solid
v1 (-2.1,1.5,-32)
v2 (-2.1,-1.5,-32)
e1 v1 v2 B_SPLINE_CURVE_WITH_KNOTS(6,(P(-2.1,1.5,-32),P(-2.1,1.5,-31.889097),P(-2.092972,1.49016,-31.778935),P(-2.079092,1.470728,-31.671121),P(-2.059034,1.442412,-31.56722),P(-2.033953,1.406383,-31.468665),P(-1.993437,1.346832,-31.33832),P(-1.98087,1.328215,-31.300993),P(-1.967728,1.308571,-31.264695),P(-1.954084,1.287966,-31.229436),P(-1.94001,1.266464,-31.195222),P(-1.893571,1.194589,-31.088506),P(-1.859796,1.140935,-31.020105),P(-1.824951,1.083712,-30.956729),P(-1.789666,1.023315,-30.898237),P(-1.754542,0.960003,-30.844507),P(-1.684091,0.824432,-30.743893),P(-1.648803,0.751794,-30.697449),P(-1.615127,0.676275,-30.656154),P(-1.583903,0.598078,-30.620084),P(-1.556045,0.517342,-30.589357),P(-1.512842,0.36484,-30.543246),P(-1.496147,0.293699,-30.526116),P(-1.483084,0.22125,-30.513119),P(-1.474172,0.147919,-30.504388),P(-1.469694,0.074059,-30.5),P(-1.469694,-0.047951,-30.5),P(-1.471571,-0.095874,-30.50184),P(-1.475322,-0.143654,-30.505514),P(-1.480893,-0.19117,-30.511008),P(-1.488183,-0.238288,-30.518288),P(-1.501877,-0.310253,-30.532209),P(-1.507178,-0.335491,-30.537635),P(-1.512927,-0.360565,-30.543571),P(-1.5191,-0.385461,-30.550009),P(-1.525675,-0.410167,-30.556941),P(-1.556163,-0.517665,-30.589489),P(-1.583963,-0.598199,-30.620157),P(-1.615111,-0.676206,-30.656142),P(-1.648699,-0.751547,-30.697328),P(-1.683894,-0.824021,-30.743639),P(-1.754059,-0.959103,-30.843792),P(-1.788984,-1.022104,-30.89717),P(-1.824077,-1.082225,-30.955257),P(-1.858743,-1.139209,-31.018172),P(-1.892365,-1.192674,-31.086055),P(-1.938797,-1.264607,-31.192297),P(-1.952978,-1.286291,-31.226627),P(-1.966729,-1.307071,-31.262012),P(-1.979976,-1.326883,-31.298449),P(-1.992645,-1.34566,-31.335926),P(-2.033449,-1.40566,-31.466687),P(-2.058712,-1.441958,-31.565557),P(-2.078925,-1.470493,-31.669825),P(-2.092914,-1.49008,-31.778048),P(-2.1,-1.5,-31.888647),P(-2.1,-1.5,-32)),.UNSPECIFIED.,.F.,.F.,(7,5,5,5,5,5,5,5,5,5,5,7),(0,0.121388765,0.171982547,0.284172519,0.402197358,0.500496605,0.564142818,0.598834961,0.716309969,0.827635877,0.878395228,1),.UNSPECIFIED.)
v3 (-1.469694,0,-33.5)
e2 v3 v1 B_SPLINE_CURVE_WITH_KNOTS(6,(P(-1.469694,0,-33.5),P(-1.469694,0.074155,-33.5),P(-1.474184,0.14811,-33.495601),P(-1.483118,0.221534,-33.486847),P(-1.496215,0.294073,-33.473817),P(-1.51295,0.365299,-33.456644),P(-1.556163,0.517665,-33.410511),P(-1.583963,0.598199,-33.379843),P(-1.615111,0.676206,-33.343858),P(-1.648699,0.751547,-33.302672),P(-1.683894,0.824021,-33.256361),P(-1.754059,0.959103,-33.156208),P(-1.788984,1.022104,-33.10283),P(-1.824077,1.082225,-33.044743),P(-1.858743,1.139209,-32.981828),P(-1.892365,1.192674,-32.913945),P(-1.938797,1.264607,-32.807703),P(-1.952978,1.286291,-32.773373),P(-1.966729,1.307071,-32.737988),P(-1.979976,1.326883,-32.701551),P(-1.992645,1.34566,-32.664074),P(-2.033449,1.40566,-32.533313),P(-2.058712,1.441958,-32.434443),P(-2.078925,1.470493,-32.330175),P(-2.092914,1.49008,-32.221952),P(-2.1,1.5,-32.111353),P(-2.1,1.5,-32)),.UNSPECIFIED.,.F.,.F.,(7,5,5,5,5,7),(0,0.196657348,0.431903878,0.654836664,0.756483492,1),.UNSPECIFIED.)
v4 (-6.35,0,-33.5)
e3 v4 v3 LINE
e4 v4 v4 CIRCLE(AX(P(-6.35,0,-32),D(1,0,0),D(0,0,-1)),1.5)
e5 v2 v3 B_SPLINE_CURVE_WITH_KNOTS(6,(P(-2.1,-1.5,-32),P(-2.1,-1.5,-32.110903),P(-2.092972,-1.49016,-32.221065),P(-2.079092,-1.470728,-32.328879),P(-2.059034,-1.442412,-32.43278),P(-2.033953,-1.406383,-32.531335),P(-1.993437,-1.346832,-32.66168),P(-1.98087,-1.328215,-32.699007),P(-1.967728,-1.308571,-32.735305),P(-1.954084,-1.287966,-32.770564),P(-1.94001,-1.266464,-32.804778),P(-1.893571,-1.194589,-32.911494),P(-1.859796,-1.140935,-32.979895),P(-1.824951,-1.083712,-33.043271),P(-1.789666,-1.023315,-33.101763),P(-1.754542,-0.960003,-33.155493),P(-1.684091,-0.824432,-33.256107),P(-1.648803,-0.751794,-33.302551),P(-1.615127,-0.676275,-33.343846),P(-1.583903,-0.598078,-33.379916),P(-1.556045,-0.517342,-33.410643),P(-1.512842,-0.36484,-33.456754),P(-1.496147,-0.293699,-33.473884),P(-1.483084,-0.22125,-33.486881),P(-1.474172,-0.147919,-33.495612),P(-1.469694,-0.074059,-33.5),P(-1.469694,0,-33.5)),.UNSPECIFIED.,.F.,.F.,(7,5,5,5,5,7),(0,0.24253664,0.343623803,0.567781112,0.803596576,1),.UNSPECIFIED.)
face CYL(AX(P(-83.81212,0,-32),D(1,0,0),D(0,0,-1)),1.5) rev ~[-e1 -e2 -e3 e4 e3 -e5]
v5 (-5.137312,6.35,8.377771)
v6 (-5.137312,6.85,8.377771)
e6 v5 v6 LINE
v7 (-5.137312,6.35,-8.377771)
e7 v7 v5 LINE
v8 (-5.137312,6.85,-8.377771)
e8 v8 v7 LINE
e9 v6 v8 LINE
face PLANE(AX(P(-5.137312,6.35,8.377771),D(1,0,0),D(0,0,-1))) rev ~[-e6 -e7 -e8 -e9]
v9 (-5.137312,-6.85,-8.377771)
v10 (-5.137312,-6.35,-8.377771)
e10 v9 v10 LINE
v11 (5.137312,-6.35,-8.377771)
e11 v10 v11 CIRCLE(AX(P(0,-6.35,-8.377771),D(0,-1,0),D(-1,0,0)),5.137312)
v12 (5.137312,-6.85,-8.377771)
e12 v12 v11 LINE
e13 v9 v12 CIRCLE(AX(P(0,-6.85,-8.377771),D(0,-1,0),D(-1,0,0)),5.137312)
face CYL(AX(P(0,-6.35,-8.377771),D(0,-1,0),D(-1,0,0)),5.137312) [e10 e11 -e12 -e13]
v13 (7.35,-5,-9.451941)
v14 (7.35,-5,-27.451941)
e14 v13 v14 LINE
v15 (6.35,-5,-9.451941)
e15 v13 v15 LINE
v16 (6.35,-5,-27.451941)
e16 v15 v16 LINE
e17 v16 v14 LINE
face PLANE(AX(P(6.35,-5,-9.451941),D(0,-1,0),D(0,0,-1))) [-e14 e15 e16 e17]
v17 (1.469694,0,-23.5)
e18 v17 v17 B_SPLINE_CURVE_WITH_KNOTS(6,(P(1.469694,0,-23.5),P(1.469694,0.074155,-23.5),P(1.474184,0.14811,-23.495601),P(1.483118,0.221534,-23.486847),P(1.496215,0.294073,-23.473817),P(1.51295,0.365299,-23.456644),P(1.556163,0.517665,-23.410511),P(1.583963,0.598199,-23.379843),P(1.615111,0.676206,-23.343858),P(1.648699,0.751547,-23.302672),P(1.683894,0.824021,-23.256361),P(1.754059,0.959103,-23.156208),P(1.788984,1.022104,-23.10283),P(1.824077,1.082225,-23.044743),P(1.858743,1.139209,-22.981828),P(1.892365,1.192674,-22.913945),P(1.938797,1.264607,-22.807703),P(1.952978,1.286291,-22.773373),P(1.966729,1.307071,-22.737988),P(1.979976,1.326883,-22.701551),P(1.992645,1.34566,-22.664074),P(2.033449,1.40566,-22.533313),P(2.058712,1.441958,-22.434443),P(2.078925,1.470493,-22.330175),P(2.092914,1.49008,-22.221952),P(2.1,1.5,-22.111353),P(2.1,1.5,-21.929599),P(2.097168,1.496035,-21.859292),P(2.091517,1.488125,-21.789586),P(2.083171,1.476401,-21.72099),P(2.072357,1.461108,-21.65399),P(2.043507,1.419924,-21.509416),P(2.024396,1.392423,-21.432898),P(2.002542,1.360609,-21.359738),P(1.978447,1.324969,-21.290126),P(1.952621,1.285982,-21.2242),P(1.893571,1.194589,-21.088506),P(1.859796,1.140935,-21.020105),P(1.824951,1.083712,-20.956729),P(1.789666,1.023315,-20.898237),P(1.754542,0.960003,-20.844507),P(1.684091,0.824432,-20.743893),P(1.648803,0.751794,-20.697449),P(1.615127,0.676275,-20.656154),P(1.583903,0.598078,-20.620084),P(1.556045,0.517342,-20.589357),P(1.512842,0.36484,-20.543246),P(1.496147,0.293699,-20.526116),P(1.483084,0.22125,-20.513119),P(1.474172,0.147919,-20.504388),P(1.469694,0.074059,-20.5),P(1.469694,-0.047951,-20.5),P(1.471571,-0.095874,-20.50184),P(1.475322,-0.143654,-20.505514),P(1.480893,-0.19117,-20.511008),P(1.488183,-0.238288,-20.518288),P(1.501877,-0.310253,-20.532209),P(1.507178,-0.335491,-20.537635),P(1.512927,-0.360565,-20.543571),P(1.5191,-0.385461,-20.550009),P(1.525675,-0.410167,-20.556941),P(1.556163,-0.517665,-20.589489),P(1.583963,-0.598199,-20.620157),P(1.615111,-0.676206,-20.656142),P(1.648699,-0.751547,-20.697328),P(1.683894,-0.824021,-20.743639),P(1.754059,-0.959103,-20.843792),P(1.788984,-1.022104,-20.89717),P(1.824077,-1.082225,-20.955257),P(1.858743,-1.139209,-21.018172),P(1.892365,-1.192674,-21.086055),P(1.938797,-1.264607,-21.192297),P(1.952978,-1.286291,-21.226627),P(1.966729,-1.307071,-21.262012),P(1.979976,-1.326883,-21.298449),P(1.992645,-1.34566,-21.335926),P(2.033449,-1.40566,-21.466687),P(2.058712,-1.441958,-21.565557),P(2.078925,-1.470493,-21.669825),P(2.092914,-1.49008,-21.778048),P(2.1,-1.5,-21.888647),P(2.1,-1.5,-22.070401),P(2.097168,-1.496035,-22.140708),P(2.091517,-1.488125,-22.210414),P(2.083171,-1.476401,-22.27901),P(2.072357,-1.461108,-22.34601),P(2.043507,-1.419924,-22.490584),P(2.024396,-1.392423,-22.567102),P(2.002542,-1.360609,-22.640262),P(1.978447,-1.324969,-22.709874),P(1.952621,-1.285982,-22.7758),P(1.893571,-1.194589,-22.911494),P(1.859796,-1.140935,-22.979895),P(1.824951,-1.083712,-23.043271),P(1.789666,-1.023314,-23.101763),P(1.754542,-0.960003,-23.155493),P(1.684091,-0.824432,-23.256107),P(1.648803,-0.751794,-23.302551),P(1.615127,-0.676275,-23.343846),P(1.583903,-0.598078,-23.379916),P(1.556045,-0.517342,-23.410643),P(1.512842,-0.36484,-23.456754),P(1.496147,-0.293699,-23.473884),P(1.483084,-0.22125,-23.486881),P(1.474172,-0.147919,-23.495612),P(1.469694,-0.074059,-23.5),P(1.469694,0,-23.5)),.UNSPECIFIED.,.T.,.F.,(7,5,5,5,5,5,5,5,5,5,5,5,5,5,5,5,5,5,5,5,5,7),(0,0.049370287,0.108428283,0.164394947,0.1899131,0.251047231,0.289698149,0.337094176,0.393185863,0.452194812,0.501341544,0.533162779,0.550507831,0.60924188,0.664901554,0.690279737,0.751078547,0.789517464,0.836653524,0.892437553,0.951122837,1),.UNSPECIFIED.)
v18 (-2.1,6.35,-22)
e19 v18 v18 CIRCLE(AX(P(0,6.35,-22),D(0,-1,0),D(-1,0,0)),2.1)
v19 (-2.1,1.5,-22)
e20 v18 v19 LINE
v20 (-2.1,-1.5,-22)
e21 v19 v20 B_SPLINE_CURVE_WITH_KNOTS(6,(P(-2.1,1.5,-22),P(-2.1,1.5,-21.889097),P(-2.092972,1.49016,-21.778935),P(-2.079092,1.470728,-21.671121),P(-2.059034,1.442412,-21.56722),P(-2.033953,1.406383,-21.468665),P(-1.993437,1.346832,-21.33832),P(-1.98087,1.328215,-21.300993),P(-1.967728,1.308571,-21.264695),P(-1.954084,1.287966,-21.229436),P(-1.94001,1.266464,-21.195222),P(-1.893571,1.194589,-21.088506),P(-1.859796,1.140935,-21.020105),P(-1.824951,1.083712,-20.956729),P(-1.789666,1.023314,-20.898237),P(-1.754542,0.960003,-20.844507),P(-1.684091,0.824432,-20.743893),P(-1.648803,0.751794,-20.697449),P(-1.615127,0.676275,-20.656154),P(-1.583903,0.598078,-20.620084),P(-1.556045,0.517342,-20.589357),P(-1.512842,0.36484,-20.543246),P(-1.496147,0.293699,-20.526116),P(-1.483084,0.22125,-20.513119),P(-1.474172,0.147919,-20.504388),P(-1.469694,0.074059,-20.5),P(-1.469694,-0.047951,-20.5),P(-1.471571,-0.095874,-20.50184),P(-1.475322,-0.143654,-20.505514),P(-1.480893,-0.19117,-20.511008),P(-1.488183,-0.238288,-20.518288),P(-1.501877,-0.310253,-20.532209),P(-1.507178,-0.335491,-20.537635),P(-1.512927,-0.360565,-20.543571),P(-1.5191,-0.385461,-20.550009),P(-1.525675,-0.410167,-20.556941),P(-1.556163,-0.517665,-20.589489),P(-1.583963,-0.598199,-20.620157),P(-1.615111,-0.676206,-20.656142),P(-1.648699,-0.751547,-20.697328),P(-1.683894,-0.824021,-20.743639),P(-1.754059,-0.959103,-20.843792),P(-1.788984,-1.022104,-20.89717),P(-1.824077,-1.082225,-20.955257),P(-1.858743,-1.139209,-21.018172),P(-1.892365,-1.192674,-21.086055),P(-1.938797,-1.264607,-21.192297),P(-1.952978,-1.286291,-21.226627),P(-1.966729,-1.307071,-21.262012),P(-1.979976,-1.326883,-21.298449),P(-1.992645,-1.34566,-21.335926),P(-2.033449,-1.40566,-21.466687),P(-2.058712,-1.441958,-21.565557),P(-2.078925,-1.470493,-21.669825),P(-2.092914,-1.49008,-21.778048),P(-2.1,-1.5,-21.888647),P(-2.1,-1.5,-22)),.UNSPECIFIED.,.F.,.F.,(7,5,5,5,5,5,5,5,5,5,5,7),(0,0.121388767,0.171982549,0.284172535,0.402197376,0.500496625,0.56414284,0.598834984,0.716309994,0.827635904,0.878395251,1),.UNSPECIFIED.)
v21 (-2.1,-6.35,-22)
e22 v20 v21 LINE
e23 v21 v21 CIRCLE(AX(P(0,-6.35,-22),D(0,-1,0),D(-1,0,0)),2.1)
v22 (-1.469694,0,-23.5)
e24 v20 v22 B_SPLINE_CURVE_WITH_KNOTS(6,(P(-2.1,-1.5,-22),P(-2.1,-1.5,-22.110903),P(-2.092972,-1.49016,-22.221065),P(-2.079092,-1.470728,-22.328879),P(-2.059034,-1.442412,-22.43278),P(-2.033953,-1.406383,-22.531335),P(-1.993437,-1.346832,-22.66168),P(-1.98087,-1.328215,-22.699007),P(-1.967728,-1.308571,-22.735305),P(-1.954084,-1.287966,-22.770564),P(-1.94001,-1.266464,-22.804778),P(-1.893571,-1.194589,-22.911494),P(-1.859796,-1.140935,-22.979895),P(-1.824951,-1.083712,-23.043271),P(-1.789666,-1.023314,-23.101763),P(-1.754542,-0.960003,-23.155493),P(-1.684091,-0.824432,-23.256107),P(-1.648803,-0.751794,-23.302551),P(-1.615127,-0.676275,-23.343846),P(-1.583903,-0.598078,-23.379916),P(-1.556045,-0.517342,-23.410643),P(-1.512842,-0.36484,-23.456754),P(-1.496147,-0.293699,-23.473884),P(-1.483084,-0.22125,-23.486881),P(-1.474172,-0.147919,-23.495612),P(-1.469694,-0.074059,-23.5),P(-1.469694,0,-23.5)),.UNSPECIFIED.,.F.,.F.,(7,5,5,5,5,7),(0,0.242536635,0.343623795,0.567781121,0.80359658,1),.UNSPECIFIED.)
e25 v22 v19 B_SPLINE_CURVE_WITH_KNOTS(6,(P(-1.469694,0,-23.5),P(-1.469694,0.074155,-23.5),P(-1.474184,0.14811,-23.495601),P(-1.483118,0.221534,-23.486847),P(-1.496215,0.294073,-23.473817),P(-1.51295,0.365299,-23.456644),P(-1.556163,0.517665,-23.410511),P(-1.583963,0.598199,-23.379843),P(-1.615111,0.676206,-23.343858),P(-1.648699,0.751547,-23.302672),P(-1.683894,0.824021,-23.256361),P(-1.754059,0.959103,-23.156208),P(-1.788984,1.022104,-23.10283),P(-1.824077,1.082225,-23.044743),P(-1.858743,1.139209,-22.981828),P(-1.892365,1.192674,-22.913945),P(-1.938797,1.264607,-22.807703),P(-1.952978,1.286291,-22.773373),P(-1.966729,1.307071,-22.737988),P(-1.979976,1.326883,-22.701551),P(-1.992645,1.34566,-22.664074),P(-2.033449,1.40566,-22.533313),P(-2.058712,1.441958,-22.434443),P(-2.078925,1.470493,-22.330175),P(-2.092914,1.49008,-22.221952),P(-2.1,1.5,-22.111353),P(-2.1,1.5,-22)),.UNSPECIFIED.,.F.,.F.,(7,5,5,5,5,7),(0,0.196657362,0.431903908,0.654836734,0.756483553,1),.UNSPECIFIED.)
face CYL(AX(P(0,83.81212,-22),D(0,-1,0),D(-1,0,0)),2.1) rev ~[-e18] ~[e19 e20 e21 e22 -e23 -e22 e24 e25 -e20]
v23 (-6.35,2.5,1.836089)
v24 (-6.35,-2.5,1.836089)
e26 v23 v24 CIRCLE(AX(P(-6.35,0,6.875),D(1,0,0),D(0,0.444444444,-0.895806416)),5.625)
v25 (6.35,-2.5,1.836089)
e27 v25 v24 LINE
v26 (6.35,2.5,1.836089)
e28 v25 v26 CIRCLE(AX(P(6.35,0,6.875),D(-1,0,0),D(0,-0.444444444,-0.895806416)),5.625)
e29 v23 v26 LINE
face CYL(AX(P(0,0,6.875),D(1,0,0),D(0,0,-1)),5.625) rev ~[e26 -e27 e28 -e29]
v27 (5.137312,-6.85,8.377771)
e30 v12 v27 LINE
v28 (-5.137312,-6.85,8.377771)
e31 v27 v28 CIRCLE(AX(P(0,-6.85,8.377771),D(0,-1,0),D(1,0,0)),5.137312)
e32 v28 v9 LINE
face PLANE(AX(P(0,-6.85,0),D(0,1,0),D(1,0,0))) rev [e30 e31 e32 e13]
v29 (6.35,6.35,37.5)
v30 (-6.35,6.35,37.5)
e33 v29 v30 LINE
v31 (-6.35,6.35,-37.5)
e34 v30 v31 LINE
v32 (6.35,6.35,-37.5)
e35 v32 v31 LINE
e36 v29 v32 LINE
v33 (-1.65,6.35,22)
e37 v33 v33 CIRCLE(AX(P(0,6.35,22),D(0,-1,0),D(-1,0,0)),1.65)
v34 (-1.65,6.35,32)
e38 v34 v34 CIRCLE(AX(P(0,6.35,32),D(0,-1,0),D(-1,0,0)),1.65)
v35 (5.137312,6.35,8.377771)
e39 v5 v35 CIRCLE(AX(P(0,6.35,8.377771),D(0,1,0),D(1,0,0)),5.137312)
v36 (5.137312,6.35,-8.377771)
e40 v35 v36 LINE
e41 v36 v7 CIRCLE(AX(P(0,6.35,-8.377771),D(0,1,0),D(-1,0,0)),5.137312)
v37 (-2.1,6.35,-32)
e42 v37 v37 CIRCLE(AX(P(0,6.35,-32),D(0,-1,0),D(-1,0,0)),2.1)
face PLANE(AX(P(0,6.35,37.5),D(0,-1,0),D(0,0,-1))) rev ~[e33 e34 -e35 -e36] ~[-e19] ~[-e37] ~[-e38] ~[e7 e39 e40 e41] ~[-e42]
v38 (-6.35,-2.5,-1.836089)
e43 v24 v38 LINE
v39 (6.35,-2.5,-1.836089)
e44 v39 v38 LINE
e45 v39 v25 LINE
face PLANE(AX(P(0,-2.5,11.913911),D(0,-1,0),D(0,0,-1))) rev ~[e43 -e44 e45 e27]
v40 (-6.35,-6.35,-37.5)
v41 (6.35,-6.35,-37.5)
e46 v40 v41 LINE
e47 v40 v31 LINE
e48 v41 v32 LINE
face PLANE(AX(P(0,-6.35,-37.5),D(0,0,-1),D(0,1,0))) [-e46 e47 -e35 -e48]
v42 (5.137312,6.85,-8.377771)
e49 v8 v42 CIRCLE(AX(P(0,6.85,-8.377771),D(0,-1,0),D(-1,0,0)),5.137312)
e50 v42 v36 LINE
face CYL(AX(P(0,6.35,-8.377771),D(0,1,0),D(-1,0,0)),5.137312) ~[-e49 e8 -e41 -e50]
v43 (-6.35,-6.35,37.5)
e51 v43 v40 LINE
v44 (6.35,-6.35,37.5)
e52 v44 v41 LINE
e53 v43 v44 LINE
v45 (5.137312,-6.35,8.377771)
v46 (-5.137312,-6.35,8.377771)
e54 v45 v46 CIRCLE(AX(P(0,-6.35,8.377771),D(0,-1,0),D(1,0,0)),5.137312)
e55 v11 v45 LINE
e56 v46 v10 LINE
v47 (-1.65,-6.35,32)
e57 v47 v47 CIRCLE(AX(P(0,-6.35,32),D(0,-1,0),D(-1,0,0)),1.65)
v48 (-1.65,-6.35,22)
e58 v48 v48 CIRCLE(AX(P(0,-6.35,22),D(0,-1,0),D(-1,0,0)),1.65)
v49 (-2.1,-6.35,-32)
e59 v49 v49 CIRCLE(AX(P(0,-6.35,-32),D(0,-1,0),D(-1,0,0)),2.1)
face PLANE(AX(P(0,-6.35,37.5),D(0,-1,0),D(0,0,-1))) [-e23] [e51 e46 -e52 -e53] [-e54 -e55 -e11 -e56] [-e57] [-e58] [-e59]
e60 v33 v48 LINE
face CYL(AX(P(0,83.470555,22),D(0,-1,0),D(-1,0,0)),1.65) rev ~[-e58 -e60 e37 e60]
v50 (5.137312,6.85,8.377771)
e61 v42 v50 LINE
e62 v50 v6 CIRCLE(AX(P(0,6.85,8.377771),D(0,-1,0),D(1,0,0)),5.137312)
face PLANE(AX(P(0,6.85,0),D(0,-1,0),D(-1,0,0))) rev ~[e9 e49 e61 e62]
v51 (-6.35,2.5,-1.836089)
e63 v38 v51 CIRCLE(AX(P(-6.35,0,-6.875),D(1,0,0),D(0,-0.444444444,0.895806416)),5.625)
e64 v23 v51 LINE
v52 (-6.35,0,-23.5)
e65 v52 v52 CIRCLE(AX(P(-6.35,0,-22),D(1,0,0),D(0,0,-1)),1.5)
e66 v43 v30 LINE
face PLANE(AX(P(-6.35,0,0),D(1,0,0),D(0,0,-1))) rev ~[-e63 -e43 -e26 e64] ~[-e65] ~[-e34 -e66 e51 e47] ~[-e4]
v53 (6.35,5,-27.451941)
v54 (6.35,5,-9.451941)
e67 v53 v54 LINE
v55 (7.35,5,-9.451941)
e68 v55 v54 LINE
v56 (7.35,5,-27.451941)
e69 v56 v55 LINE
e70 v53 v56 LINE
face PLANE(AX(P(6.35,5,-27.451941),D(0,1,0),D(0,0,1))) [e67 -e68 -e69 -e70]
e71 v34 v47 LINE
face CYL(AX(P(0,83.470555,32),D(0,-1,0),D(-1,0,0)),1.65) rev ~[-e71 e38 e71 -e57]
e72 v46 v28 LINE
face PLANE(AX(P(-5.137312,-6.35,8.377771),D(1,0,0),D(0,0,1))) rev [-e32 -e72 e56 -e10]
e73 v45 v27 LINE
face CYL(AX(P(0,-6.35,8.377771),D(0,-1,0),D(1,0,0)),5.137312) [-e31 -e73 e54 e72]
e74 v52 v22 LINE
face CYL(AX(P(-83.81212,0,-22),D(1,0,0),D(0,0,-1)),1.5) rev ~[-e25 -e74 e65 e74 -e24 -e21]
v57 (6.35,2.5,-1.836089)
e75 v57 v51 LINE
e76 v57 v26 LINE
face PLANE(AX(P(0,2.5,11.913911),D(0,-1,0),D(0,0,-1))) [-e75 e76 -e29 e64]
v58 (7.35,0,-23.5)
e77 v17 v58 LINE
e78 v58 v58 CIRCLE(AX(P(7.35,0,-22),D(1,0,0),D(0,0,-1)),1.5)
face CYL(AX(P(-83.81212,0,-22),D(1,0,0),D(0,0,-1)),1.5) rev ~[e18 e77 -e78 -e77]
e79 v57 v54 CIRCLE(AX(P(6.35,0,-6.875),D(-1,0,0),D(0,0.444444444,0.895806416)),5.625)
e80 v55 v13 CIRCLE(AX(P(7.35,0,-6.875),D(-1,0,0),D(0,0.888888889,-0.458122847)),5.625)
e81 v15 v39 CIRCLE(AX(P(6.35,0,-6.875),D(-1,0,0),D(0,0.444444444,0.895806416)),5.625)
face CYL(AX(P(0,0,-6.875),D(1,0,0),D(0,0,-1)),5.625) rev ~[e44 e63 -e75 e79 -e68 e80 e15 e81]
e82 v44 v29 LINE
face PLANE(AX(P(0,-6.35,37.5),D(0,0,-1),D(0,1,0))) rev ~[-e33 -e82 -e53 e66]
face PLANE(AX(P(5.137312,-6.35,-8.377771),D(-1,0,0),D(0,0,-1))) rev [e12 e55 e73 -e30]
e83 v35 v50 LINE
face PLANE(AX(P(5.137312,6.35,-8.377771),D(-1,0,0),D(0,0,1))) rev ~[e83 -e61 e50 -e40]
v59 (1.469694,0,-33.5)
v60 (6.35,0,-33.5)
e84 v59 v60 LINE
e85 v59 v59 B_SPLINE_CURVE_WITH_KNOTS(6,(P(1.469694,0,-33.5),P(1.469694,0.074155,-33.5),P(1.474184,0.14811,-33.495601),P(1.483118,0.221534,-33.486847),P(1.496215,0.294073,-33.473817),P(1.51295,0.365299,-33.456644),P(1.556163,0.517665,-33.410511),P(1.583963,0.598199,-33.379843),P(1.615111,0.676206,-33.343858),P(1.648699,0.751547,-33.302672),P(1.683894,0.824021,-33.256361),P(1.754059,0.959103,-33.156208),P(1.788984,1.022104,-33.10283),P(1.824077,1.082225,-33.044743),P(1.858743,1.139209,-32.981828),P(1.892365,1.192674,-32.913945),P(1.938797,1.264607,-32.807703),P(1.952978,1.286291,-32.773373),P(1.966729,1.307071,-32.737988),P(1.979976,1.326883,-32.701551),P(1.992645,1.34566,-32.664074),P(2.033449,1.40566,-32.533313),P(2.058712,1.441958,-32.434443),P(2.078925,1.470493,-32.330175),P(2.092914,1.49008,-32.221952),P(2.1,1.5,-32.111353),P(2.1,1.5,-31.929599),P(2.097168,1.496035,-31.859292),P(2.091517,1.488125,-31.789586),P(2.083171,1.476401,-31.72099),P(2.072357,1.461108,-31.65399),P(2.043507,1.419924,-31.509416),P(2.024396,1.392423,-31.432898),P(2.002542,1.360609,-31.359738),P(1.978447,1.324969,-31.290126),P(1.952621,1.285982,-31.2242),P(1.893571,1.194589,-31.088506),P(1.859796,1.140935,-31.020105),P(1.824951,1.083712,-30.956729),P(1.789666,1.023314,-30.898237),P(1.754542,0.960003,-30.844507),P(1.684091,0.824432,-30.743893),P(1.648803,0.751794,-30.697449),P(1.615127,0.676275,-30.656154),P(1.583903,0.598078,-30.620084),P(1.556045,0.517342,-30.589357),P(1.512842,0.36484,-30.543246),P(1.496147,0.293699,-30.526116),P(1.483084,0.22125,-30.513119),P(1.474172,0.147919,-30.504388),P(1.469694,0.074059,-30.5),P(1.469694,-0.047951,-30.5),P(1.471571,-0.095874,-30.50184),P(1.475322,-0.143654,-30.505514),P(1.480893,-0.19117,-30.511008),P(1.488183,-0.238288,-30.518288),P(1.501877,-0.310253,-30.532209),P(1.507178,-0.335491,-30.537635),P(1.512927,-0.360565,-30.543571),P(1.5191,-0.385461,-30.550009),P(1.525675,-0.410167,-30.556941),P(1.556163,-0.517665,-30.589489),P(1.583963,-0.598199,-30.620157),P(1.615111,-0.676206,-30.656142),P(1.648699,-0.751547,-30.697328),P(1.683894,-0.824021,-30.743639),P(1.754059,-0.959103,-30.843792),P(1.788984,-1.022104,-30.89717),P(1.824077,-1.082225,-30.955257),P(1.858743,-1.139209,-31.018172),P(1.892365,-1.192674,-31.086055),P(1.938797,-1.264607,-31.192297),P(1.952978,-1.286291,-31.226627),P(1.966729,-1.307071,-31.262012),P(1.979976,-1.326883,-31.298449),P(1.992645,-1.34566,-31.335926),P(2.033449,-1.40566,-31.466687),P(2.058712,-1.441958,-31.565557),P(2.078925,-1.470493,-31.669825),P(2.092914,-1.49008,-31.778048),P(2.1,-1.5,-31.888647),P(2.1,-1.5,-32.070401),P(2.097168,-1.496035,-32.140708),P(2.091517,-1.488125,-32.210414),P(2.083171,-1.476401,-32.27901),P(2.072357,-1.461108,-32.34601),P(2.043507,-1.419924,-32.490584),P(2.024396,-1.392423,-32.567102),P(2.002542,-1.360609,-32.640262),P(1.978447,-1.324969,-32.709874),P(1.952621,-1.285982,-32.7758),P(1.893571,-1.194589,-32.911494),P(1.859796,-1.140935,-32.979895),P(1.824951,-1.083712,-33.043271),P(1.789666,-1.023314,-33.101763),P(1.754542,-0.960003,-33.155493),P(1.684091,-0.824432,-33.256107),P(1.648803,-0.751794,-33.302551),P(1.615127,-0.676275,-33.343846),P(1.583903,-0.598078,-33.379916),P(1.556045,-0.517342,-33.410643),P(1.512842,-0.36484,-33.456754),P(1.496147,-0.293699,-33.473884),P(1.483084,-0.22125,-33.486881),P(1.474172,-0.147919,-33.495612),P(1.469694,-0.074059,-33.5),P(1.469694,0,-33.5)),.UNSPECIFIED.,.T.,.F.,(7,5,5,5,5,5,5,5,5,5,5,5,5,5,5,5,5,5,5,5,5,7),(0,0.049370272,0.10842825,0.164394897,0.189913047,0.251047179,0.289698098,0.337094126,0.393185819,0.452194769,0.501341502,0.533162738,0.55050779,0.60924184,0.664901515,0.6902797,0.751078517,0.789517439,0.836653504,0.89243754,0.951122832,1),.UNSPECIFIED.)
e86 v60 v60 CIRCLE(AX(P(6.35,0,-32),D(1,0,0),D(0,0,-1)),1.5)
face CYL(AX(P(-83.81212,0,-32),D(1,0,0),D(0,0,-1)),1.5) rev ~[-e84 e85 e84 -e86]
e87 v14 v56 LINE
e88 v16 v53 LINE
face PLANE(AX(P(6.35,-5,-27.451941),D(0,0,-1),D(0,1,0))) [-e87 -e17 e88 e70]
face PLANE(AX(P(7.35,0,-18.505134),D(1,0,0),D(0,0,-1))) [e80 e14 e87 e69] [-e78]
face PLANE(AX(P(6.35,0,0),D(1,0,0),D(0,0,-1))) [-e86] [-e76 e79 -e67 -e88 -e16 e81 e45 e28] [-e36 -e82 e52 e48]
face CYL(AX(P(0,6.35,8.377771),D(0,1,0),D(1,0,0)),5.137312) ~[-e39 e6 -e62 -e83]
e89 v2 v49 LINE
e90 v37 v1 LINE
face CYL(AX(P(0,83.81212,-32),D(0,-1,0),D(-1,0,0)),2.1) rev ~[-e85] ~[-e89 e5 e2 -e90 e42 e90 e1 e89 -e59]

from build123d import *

# Parameters (mm, degrees)
SKETCH1_W               = 75
SKETCH1_H               = 12.7
BOSS_EXTRUDE1_DEPTH     = 6.35
SKETCH2_R               = 5.625
CUT_EXTRUDE1_DEPTH      = 7.35
CUT_EXTRUDE1_DEPTH_BACK = 7.35
SKETCH3_W               = 23.827822186
SKETCH3_H               = 5
CUT_EXTRUDE2_DEPTH      = 7.35
CUT_EXTRUDE2_DEPTH_BACK = 7.35
M4X0_7_TAPPED_HOLE1_D   = 3.3
GOO_DEPTH               = 0.5
BOSS_EXTRUDE5_DEPTH     = 1
F_3_0MM_DOWEL_HOLE1_D   = 3
M5X0_8_TAPPED_HOLE1_D   = 4.2


with BuildPart() as part:
    # Sketch1 → Boss-Extrude1 (new body, symmetric)
    with BuildSketch(Plane(origin=(0, 0, 0), x_dir=(0, 0, -1), z_dir=(1, 0, 0))):
        Rectangle(SKETCH1_W, SKETCH1_H)
    extrude(amount=BOSS_EXTRUDE1_DEPTH, both=True)

    # Sketch2 → Cut-Extrude1 (cut, two sides)
    with BuildSketch(Plane(origin=(0, 0, 0), x_dir=(0, 0, -1), z_dir=(1, 0, 0))) as cut_extrude1_sk:
        with Locations((-6.875, 0)):
            Circle(SKETCH2_R)
        with Locations((6.875, 0)):
            Circle(SKETCH2_R)
    extrude(amount=CUT_EXTRUDE1_DEPTH, mode=Mode.SUBTRACT)
    extrude(cut_extrude1_sk.sketch, amount=-CUT_EXTRUDE1_DEPTH_BACK, mode=Mode.SUBTRACT)

    # Sketch3 → Cut-Extrude2 (cut, two sides)
    with BuildSketch(Plane(origin=(0, 0, 0), x_dir=(0, 0, -1), z_dir=(1, 0, 0))) as cut_extrude2_sk:
        Rectangle(SKETCH3_W, SKETCH3_H)
    extrude(amount=CUT_EXTRUDE2_DEPTH, mode=Mode.SUBTRACT)
    extrude(cut_extrude2_sk.sketch, amount=-CUT_EXTRUDE2_DEPTH_BACK, mode=Mode.SUBTRACT)

    # M4x0.7 Tapped Hole1 (through all)
    with Locations(Plane(origin=(0, 6.35, 0), x_dir=(1, 0, 0), z_dir=(0, 1, 0))):
        with Locations((0, 32), (0, 22), (0, -22), (0, -32)):
            Hole(M4X0_7_TAPPED_HOLE1_D / 2)

    # Sketch8 → Goo (add, symmetric)
    with BuildSketch(Plane(origin=(0, 6.35, 0), x_dir=(1, 0, 0), z_dir=(0, 1, 0))):
        with BuildLine():
            Line((-5.13731221, -8.377770681), (-5.13731221, 8.377770681))
            ThreePointArc((-5.13731221, 8.377770681), (0, 13.515082891), (5.13731221, 8.377770681))
            Line((5.13731221, 8.377770681), (5.13731221, -8.377770681))
            ThreePointArc((5.13731221, -8.377770681), (0, -13.515082891), (-5.13731221, -8.377770681))
        make_face()
    goo = extrude(amount=GOO_DEPTH, both=True)

    # Mirror1: Goo across plane
    add(goo.mirror(Plane.ZX))

    # Sketch9 → Boss-Extrude5 (add, symmetric)
    with BuildSketch(Plane(origin=(6.35, 0, 0), x_dir=(0, 0, -1), z_dir=(1, 0, 0))):
        with BuildLine():
            Line((9.451941016, -5), (27.451941016, -5))
            Line((27.451941016, -5), (27.451941016, 5))
            Line((27.451941016, 5), (9.451941016, 5))
            ThreePointArc((9.451941016, 5), (12.5, 0), (9.451941016, -5))
        make_face()
    extrude(amount=BOSS_EXTRUDE5_DEPTH, both=True)

    # Ø3.0mm Dowel Hole1 (through all)
    with Locations(Plane.ZY.offset(6.35)):
        with Locations((-22, 0), (-32, 0)):
            Hole(F_3_0MM_DOWEL_HOLE1_D / 2)

    # M5x0.8 Tapped Hole1 (through all)
    with Locations(Plane(origin=(0, 6.35, 0), x_dir=(1, 0, 0), z_dir=(0, 1, 0))):
        with Locations((0, 32), (0, 22)):
            Hole(M5X0_8_TAPPED_HOLE1_D / 2)


solid = part.part
